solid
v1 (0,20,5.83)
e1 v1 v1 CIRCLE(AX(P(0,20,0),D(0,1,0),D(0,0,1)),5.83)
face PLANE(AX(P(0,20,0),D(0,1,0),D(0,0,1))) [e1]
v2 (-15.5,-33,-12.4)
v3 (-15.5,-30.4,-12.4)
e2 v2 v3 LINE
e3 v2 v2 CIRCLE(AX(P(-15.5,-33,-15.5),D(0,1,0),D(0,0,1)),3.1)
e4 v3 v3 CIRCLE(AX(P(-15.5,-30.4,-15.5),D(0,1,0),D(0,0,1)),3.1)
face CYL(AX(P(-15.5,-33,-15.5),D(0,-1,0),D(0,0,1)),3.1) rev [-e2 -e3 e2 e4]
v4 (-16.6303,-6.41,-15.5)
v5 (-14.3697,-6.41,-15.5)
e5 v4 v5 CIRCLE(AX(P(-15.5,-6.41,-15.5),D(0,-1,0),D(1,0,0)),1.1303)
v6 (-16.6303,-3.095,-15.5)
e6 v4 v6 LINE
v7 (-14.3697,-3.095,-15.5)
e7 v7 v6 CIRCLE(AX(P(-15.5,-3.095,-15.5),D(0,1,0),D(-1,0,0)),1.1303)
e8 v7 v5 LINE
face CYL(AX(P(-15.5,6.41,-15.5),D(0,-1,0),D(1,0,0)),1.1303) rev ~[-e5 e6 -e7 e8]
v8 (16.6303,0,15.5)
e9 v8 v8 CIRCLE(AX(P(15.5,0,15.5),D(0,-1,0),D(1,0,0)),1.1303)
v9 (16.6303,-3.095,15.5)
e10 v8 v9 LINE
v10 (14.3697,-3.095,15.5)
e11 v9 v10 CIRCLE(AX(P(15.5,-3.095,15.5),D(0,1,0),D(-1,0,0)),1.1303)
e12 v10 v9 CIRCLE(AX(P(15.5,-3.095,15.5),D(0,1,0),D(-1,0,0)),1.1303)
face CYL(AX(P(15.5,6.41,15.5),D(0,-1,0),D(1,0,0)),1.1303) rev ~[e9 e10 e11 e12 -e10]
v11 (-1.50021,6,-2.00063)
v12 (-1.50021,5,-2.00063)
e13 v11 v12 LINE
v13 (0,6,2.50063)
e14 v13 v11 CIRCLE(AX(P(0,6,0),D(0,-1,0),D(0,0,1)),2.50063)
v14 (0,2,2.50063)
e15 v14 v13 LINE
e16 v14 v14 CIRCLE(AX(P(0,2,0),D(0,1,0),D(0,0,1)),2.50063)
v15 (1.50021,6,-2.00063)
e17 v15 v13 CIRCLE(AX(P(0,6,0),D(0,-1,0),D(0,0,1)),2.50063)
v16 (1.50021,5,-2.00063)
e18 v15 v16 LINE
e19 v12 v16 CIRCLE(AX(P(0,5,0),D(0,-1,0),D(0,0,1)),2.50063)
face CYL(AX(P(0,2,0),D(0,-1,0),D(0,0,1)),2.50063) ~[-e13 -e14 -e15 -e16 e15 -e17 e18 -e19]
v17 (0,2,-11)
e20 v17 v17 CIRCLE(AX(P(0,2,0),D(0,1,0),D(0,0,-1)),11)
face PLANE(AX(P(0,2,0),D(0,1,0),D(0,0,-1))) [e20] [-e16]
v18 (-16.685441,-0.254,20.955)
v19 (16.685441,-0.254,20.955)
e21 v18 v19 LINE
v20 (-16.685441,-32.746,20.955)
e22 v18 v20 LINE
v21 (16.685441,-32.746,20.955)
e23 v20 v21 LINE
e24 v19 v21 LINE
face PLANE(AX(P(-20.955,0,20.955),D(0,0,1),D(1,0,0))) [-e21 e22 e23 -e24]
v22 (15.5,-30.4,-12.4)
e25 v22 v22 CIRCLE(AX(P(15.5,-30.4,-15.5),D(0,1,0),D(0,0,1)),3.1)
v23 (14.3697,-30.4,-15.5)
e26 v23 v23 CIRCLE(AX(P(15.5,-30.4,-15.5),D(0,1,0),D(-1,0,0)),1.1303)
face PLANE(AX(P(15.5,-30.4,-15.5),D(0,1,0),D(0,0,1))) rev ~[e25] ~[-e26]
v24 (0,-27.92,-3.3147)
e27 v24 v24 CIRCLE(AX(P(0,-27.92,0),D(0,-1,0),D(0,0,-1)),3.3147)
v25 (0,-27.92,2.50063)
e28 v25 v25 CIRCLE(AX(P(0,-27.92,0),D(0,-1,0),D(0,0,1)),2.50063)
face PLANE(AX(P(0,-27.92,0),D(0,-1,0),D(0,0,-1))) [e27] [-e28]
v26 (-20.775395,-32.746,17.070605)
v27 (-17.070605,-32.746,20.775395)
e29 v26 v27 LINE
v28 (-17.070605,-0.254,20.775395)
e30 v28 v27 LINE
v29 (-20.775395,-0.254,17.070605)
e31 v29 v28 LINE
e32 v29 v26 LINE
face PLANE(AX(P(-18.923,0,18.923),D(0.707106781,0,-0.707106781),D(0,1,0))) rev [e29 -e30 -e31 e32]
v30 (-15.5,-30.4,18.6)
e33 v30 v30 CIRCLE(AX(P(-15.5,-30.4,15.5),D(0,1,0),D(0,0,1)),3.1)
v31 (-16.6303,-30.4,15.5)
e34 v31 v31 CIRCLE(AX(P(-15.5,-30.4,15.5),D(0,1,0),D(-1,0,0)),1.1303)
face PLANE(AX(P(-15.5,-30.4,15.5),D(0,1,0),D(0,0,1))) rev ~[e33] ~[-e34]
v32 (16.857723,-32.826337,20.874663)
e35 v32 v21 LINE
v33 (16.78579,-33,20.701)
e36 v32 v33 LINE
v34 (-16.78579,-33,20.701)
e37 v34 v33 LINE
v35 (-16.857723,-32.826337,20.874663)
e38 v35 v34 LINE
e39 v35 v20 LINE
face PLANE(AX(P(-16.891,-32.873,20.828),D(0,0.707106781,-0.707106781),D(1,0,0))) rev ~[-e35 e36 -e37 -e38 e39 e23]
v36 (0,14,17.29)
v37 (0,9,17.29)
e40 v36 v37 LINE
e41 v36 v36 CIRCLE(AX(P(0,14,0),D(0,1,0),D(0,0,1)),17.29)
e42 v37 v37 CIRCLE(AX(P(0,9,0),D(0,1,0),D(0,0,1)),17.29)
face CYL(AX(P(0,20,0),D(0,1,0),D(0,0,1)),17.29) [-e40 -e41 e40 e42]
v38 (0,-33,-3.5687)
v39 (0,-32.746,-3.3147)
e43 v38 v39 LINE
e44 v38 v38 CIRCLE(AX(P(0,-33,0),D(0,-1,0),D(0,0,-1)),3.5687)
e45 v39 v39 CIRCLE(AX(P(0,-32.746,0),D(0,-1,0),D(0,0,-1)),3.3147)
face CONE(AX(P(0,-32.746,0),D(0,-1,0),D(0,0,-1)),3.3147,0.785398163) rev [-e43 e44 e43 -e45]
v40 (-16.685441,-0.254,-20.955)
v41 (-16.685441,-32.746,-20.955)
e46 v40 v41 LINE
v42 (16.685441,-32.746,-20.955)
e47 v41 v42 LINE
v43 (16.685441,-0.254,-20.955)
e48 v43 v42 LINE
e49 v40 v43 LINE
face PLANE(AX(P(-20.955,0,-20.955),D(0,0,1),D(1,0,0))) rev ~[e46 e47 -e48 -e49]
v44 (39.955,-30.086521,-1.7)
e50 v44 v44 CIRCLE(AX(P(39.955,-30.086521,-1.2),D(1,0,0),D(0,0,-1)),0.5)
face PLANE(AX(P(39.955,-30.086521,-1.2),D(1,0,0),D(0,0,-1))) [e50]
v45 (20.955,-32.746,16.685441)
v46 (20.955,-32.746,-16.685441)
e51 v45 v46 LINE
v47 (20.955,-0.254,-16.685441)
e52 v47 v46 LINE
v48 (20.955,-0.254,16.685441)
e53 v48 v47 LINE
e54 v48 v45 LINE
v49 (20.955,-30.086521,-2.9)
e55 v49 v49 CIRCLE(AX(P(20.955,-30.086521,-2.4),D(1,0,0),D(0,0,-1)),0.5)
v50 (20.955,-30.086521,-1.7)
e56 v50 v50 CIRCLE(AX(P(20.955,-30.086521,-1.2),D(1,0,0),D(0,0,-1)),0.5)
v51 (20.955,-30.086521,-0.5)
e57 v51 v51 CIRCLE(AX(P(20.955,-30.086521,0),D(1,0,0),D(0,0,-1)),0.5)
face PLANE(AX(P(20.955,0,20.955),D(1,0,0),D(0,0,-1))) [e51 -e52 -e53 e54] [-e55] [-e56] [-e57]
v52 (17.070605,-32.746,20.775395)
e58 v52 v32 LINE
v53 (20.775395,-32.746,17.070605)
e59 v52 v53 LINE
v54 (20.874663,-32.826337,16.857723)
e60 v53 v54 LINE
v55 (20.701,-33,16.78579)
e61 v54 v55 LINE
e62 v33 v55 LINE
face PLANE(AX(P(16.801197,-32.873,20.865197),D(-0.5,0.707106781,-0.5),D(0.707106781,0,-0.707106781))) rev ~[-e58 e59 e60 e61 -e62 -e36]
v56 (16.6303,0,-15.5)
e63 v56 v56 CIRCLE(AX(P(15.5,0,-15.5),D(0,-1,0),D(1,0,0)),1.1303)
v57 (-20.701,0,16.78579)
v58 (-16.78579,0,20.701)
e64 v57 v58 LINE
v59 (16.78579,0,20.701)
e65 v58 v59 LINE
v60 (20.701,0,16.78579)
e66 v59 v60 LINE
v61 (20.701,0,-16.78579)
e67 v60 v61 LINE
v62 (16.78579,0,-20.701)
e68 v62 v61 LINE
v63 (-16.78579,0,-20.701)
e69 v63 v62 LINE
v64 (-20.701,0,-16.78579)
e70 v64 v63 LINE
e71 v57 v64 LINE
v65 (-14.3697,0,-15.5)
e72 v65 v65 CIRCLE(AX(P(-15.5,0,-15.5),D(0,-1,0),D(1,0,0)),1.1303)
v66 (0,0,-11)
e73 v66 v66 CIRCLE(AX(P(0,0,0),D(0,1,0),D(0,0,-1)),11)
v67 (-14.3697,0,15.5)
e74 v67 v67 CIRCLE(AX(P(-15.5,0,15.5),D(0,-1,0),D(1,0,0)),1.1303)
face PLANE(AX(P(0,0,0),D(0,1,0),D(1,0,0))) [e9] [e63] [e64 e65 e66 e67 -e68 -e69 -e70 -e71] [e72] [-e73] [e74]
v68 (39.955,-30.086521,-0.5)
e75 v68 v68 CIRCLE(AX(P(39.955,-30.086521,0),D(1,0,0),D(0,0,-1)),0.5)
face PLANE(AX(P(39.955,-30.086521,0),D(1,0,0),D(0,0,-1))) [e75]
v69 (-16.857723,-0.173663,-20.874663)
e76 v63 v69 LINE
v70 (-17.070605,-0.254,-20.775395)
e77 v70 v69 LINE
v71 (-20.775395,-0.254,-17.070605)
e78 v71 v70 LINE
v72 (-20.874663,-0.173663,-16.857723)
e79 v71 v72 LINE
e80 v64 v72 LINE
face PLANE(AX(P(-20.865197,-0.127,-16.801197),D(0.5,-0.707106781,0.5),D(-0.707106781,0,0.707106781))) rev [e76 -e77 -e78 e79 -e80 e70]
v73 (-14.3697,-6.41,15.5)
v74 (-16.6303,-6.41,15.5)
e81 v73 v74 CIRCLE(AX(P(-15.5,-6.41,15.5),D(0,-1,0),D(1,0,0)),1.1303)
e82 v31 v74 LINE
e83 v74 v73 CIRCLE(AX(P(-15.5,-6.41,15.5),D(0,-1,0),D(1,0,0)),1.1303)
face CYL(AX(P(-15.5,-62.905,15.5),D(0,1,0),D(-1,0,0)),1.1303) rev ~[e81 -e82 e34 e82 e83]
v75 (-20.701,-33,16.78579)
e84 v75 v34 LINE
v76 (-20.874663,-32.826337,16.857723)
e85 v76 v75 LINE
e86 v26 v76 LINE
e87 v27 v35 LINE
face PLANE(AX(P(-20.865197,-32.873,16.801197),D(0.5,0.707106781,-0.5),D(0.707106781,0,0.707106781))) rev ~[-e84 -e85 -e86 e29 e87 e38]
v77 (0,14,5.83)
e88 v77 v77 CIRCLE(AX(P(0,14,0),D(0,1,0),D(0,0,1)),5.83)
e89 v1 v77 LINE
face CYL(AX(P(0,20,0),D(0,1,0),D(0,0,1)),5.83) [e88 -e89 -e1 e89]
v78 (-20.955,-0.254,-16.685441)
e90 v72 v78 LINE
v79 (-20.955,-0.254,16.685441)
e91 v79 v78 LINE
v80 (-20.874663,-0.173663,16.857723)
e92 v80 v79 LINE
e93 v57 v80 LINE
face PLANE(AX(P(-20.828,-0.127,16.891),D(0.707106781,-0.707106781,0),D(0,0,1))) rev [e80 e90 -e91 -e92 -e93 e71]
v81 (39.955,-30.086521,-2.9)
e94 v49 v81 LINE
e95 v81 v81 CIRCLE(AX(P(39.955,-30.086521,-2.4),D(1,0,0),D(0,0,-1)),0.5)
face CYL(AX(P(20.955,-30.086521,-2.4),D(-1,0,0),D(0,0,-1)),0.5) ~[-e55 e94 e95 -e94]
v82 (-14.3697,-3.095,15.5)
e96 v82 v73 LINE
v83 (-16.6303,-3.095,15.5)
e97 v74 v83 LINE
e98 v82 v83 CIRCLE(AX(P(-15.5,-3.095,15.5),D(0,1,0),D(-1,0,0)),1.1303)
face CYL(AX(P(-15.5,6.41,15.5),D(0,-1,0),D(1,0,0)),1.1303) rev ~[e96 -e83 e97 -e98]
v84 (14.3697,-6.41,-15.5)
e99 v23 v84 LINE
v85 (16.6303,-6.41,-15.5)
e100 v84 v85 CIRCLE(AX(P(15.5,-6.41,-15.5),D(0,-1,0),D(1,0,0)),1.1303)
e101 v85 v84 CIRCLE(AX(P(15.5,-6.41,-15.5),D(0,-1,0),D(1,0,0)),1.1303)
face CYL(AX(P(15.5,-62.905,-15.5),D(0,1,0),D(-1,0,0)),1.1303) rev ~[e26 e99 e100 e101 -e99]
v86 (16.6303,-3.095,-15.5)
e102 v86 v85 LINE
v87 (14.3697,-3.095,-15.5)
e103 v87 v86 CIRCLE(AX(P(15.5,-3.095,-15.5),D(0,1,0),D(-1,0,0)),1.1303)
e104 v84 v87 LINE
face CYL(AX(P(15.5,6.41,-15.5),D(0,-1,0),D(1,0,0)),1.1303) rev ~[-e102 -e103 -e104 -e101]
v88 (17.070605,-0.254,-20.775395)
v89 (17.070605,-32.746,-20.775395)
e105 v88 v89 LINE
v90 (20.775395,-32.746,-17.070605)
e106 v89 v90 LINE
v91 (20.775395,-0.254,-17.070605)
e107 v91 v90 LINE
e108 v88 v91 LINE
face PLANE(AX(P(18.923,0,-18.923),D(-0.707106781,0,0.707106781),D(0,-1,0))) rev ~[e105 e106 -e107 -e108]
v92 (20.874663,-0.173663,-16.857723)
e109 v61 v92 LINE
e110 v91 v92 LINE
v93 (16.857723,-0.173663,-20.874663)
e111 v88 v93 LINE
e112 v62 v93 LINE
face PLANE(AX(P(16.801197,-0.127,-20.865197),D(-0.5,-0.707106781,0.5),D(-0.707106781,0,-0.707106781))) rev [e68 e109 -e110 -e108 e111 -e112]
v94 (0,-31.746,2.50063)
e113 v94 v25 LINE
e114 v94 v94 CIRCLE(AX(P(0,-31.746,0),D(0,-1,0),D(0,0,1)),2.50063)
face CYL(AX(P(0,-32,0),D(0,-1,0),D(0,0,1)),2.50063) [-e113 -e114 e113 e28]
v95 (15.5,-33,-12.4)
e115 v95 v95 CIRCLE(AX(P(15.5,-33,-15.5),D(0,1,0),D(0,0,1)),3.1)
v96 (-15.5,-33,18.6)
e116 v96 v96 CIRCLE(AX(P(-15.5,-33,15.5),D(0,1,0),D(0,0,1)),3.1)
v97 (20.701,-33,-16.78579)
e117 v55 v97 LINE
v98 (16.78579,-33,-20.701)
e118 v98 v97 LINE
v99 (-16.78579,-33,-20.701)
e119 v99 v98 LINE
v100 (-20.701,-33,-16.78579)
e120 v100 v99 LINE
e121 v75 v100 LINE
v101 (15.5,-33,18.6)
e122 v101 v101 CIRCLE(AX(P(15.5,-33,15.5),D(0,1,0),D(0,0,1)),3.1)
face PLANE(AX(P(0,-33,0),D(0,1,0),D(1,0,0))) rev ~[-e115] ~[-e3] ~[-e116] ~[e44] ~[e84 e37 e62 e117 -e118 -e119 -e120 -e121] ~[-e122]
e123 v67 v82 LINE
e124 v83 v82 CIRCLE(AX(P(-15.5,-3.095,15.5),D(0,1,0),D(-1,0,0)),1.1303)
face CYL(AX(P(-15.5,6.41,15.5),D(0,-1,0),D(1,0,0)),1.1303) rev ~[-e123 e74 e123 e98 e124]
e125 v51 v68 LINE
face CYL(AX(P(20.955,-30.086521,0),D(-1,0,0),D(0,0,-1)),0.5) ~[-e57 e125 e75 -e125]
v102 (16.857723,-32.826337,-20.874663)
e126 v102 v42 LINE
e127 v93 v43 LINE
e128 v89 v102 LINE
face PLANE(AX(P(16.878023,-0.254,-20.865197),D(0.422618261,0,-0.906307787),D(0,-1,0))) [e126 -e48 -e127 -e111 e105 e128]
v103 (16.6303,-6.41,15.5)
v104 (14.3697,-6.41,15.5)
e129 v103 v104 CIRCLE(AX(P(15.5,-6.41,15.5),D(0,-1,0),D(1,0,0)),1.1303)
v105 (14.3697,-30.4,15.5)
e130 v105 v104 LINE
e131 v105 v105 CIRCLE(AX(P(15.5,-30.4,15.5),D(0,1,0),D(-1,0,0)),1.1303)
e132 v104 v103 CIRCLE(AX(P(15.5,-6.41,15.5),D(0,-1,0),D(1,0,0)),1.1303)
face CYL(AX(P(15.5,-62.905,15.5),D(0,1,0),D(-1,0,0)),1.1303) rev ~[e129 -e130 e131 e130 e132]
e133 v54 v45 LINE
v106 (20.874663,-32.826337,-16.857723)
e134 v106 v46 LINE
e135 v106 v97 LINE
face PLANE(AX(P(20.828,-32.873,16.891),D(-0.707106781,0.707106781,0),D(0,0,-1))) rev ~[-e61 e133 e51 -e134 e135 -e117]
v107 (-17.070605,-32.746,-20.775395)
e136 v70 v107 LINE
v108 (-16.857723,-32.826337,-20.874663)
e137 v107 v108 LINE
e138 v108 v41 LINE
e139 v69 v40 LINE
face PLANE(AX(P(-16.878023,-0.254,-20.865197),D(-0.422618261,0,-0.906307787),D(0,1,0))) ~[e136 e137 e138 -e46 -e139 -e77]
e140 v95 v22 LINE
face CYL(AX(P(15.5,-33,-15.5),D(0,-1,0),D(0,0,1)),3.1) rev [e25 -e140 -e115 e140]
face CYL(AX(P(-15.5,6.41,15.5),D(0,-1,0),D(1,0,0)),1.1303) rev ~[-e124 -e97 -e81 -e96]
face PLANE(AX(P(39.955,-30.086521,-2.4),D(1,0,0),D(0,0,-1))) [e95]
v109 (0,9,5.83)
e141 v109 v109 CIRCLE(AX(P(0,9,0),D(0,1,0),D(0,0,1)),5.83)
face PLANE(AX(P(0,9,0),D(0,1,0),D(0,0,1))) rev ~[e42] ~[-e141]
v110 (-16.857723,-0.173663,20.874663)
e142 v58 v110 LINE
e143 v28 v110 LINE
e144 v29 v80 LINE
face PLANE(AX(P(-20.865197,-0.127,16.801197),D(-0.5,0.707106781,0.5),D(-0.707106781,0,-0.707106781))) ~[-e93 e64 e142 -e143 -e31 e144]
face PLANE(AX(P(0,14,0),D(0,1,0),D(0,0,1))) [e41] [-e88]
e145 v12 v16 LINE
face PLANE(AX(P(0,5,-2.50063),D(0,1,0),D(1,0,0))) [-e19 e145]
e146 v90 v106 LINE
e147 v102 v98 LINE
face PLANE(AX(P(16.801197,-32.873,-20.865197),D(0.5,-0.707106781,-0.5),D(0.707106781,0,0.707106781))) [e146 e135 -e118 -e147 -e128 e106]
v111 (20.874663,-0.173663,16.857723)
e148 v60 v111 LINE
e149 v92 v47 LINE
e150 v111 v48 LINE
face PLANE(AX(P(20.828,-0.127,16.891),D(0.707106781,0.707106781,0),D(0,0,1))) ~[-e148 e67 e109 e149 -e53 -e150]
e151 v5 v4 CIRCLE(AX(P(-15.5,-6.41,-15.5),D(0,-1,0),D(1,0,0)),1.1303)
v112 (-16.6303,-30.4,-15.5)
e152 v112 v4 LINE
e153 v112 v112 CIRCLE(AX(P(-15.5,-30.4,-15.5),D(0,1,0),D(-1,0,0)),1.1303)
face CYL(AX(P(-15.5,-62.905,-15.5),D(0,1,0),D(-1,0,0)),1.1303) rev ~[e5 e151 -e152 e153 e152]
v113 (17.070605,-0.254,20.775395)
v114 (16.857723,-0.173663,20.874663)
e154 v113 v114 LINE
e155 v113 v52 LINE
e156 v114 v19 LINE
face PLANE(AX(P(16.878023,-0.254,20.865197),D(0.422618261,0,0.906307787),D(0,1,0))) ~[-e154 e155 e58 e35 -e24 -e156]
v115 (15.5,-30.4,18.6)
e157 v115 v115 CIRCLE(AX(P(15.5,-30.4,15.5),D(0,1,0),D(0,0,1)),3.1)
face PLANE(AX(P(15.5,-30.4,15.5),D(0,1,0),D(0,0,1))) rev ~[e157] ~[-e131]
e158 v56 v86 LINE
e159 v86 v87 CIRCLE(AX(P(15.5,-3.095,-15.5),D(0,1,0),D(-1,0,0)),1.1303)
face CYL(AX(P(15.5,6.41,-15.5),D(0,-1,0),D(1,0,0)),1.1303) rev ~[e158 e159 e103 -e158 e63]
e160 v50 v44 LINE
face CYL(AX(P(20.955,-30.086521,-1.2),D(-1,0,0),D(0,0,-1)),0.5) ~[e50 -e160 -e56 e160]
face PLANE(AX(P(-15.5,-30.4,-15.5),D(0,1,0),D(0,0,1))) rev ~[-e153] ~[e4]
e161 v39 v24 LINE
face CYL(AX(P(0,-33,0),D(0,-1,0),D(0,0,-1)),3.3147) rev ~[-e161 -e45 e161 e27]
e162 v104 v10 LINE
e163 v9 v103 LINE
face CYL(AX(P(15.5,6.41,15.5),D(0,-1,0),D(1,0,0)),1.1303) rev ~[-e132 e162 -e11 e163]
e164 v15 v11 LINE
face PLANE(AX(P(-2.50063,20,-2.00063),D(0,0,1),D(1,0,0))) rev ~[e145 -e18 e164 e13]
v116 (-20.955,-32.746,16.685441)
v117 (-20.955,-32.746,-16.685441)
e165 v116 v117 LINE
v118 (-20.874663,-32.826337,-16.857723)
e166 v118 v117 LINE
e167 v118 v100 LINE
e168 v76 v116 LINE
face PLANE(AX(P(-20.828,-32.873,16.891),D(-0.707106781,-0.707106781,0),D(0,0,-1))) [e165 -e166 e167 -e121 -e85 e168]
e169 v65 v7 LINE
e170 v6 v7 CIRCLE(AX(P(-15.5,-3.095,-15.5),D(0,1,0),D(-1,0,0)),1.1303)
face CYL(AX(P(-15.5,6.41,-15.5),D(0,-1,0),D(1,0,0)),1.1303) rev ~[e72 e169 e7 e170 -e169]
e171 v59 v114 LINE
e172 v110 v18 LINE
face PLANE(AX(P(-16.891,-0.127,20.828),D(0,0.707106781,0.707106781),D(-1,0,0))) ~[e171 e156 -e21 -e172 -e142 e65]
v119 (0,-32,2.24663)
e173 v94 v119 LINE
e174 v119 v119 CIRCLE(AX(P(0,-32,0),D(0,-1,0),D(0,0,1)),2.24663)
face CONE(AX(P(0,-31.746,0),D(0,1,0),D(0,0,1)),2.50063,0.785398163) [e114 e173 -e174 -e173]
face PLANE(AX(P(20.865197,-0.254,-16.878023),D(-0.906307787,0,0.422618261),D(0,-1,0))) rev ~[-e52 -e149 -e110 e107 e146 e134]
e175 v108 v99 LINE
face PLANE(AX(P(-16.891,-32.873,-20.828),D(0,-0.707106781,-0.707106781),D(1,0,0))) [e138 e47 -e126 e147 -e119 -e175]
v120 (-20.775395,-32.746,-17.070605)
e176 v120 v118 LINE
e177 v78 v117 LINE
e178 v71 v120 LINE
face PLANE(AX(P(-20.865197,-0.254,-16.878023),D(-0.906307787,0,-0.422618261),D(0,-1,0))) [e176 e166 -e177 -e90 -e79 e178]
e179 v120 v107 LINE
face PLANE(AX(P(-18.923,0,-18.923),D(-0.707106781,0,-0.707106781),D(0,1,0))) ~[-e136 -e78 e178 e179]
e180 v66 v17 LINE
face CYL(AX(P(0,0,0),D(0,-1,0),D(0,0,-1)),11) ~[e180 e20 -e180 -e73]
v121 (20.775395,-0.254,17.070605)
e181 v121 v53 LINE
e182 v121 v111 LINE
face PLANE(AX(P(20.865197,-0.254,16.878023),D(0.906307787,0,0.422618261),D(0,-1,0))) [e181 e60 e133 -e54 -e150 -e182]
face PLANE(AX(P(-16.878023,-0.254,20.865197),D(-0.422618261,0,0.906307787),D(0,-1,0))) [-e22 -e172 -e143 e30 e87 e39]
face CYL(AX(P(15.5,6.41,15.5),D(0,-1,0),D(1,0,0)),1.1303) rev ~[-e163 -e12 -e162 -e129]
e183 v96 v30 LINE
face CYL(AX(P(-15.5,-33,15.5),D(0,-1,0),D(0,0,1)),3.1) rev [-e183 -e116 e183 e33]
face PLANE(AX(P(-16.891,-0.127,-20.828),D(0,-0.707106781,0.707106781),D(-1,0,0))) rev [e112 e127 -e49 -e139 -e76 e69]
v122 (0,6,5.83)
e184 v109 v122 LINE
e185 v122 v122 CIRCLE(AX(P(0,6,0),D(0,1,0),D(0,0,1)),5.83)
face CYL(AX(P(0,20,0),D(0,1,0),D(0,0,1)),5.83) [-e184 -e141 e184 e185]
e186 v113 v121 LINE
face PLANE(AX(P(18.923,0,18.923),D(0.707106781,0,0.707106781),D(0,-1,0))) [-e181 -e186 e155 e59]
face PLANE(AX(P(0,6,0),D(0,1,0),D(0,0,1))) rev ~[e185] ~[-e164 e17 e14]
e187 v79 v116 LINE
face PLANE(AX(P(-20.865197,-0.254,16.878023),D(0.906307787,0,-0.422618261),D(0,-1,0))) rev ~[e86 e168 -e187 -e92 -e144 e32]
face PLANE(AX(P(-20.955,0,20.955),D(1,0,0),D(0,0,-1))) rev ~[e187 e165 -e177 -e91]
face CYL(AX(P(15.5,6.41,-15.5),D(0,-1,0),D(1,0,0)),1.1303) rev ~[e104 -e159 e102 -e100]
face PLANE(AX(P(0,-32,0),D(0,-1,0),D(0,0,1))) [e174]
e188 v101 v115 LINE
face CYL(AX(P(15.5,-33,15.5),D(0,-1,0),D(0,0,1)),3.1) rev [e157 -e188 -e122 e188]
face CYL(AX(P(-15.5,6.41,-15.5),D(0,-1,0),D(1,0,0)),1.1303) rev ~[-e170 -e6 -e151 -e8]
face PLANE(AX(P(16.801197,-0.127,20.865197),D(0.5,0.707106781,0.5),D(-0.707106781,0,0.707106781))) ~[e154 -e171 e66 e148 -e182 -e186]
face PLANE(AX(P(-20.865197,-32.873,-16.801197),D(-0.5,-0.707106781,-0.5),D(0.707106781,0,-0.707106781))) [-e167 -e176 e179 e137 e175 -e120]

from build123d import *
from OCP.BRepFilletAPI import BRepFilletAPI_MakeChamfer

# Parameters (mm, degrees)
SKETCH1_W                 = 41.91
SKETCH1_H                 = 41.91
EXTRUDE1_DEPTH            = 33
SKETCH9_R                 = 11
EXTRUDE5_DEPTH            = 2
SKETCH7_R                 = 2.50063
EXTRUDE3_DEPTH            = 18
F_4_40_TAPPED_HOLE1_D     = 2.2606
F_4_40_TAPPED_HOLE1_DEPTH = 6.41
F_4_40_TAPPED_HOLE1_TIP   = 0.679152758
F_4_40_TAPPED_HOLE2_D     = 2.2606
F_4_40_TAPPED_HOLE2_DEPTH = 29.905
F_4_40_TAPPED_HOLE2_TIP   = 0.679152758
SKETCH14_R                = 3.1
CUT_EXTRUDE1_DEPTH        = 2.6
CHAMFER1_SIZE             = 0.508
CHAMFER2_SIZE             = 4.064
SKETCH16_R                = 3.3147
CUT_EXTRUDE3_DEPTH        = 5.08
BOSS_EXTRUDE1_START       = 4.08
SKETCH17_R                = 2.50063
BOSS_EXTRUDE1_DEPTH       = 4.08
CHAMFER3_SIZE             = 0.254
CHAMFER4_SIZE             = 0.254
CHAMFER4_SIZE2            = 0.205559306
SKETCH18_W                = 5.00126
SKETCH18_H                = 1
CUT_EXTRUDE4_DEPTH        = 15
SKETCH24_R                = 0.5
BOSS_EXTRUDE2_DEPTH       = 19
SKETCH25_R                = 5.83
BOSS_EXTRUDE3_DEPTH       = 14
SKETCH26_R                = 17.29
BOSS_EXTRUDE4_DEPTH       = 11
SKETCH27_R                = 17.29
SKETCH27_R_2              = 5.83
CUT_EXTRUDE5_DEPTH        = 6


with BuildPart() as part:
    # Sketch1 → Extrude1 (new body)
    with BuildSketch(Plane(origin=(0, 0, 0), x_dir=(1, 0, 0), z_dir=(0, 1, 0))):
        Rectangle(SKETCH1_W, SKETCH1_H)
    extrude(amount=-EXTRUDE1_DEPTH)

    # Sketch9 → Extrude5 (add)
    with BuildSketch(Plane(origin=(0, 0, 0), x_dir=(1, 0, 0), z_dir=(0, 1, 0))):
        with Locations(Location((0, 0, 0), (0, 0, 90))):
            Circle(SKETCH9_R)
    extrude(amount=EXTRUDE5_DEPTH)

    # Sketch7 → Extrude3 (add)
    with BuildSketch(Plane(origin=(0, 2, 0), x_dir=(-1, 0, 0), z_dir=(0, 1, 0))):
        with Locations(Location((0, 0, 0), (0, 0, 90))):
            Circle(SKETCH7_R)
    extrude(amount=EXTRUDE3_DEPTH)

    # #4-40 Tapped Hole1
    with Locations(Plane(origin=(0, 0, 0), x_dir=(-1, 0, 0), z_dir=(0, 1, 0))):
        with Locations((15.5, -15.5), (15.5, 15.5), (-15.5, 15.5), (-15.5, -15.5)):
            Hole(F_4_40_TAPPED_HOLE1_D / 2, depth=F_4_40_TAPPED_HOLE1_DEPTH)
            with Locations((0, 0, -(F_4_40_TAPPED_HOLE1_DEPTH + F_4_40_TAPPED_HOLE1_TIP / 2))):  # 118° drill point
                Cone(0, F_4_40_TAPPED_HOLE1_D / 2, F_4_40_TAPPED_HOLE1_TIP, mode=Mode.SUBTRACT)

    # #4-40 Tapped Hole2
    with Locations(Plane.XZ.offset(33)):
        with Locations((15.5, -15.5), (-15.5, 15.5), (-15.5, -15.5), (15.5, 15.5)):
            Hole(F_4_40_TAPPED_HOLE2_D / 2, depth=F_4_40_TAPPED_HOLE2_DEPTH)
            with Locations((0, 0, -(F_4_40_TAPPED_HOLE2_DEPTH + F_4_40_TAPPED_HOLE2_TIP / 2))):  # 118° drill point
                Cone(0, F_4_40_TAPPED_HOLE2_D / 2, F_4_40_TAPPED_HOLE2_TIP, mode=Mode.SUBTRACT)

    # Sketch14 → Cut-Extrude1 (cut)
    with BuildSketch(Plane(origin=(0, -33, 0), x_dir=(1, 0, 0), z_dir=(0, 1, 0))):
        with Locations(Location((15.5, 15.5, 0), (0, 0, 270))):
            Circle(SKETCH14_R)
        with Locations(Location((-15.5, 15.5, 0), (0, 0, 270))):
            Circle(SKETCH14_R)
        with Locations(Location((-15.5, -15.5, 0), (0, 0, 270))):
            Circle(SKETCH14_R)
        with Locations(Location((15.5, -15.5, 0), (0, 0, 270))):
            Circle(SKETCH14_R)
    extrude(amount=CUT_EXTRUDE1_DEPTH, mode=Mode.SUBTRACT)

    # Chamfer1
    chamfer1_edges = [part.edges().sort_by_distance(p)[0] for p in [
        (0, 20, -2.50063),
    ]]
    chamfer(chamfer1_edges, length=CHAMFER1_SIZE)

    # Chamfer2
    chamfer2_edges = [part.edges().sort_by_distance(p)[0] for p in [
        (20.955, -16.5, 20.955),
        (-20.955, -16.5, 20.955),
        (-20.955, -16.5, -20.955),
        (20.955, -16.5, -20.955),
    ]]
    chamfer(chamfer2_edges, length=CHAMFER2_SIZE)

    # Sketch16 → Cut-Extrude3 (cut)
    with BuildSketch(Plane.XZ.offset(33)):
        with Locations(Location((0, 0, 0), (0, 0, 270))):
            Circle(SKETCH16_R)
    extrude(amount=-CUT_EXTRUDE3_DEPTH, mode=Mode.SUBTRACT)

    # Sketch17 → Boss-Extrude1 (add)
    with BuildSketch(Plane.XZ.offset(27.92).offset(BOSS_EXTRUDE1_START)):
        with Locations(Location((0, 0, 0), (0, 0, 90))):
            Circle(SKETCH17_R)
    extrude(amount=-BOSS_EXTRUDE1_DEPTH)

    # Chamfer3
    chamfer3_edges = [part.edges().sort_by_distance(p)[0] for p in [
        (-18.923, -33, 18.923),
        (0, -33, 3.3147),
        (0, -32, -2.50063),
        (-20.955, 0, 0),
        (-20.955, -33, 0),
        (20.955, 0, 0),
        (0, 0, -20.955),
        (0, 0, 20.955),
        (-18.923, 0, -18.923),
        (18.923, 0, -18.923),
        (18.923, 0, 18.923),
        (-18.923, 0, 18.923),
        (0, -33, 20.955),
        (20.955, -33, 0),
        (0, -33, -20.955),
        (-18.923, -33, -18.923),
        (18.923, -33, -18.923),
        (18.923, -33, 18.923),
    ]]
    chamfer(chamfer3_edges, length=CHAMFER3_SIZE)

    # Chamfer4: one chamfer whose edges measure the first distance from different faces: ONE call of the kernel's chamfer builder (chamfer() names one face for all edges)
    chamfer4_edges_1 = [part.edges().sort_by_distance(p)[0] for p in [
        (16.891, -16.5, -20.955),
        (20.955, -16.5, -16.891),
    ]]
    chamfer4_side_1 = [part.faces().sort_by_distance(p)[0] for p in [
        (18.923, -16.5, -18.923),
    ]]
    chamfer4_edges_2 = [part.edges().sort_by_distance(p)[0] for p in [
        (-16.891, -16.5, -20.955),
        (-20.955, -16.5, -16.891),
    ]]
    chamfer4_side_2 = [part.faces().sort_by_distance(p)[0] for p in [
        (-18.923, -16.5, -18.923),
    ]]
    chamfer4_edges_3 = [part.edges().sort_by_distance(p)[0] for p in [
        (20.955, -16.5, 16.891),
        (16.891, -16.5, 20.955),
    ]]
    chamfer4_side_3 = [part.faces().sort_by_distance(p)[0] for p in [
        (18.923, -16.5, 18.923),
    ]]
    chamfer4_edges_4 = [part.edges().sort_by_distance(p)[0] for p in [
        (-16.891, -16.5, 20.955),
        (-20.955, -16.5, 16.891),
    ]]
    chamfer4_side_4 = [part.faces().sort_by_distance(p)[0] for p in [
        (-18.923, -16.5, 18.923),
    ]]
    chamfer4 = BRepFilletAPI_MakeChamfer(part.part.solid().wrapped)
    for e in chamfer4_edges_1:
        chamfer4.Add(CHAMFER4_SIZE, CHAMFER4_SIZE2, e.wrapped, chamfer4_side_1[0].wrapped)  # the first distance lies on this face
    for e in chamfer4_edges_2:
        chamfer4.Add(CHAMFER4_SIZE, CHAMFER4_SIZE2, e.wrapped, chamfer4_side_2[0].wrapped)  # the first distance lies on this face
    for e in chamfer4_edges_3:
        chamfer4.Add(CHAMFER4_SIZE, CHAMFER4_SIZE2, e.wrapped, chamfer4_side_3[0].wrapped)  # the first distance lies on this face
    for e in chamfer4_edges_4:
        chamfer4.Add(CHAMFER4_SIZE, CHAMFER4_SIZE2, e.wrapped, chamfer4_side_4[0].wrapped)  # the first distance lies on this face
    add(Compound.cast(chamfer4.Shape()), mode=Mode.REPLACE)

    # Sketch18 → Cut-Extrude4 (cut)
    with BuildSketch(Plane(origin=(0, 20, 0), x_dir=(1, 0, 0), z_dir=(0, 1, 0))):
        with Locations((0, 2.50063)):
            Rectangle(SKETCH18_W, SKETCH18_H)
    extrude(amount=-CUT_EXTRUDE4_DEPTH, mode=Mode.SUBTRACT)

    # Sketch24 → Boss-Extrude2 (add)
    with BuildSketch(Plane(origin=(20.955, 0, 0), x_dir=(0, 0, -1), z_dir=(1, 0, 0))):
        with Locations((2.4, -30.086520784)):
            Circle(SKETCH24_R)
        with Locations((1.2, -30.086520784)):
            Circle(SKETCH24_R)
        with Locations((0, -30.086520784)):
            Circle(SKETCH24_R)
    extrude(amount=BOSS_EXTRUDE2_DEPTH)

    # Sketch25 → Boss-Extrude3 (add)
    with BuildSketch(Plane(origin=(0, 20, 0), x_dir=(1, 0, 0), z_dir=(0, 1, 0))):
        with Locations(Location((0, 0, 0), (0, 0, 270))):
            Circle(SKETCH25_R)
    extrude(amount=-BOSS_EXTRUDE3_DEPTH)

    # Sketch26 → Boss-Extrude4 (add)
    with BuildSketch(Plane(origin=(0, 20, 0), x_dir=(1, 0, 0), z_dir=(0, 1, 0))):
        with Locations(Location((0, 0, 0), (0, 0, 270))):
            Circle(SKETCH26_R)
    extrude(amount=-BOSS_EXTRUDE4_DEPTH)

    # Sketch27 → Cut-Extrude5 (cut)
    with BuildSketch(Plane(origin=(0, 20, 0), x_dir=(1, 0, 0), z_dir=(0, 1, 0))):
        with Locations(Location((0, 0, 0), (0, 0, 270))):
            Circle(SKETCH27_R)
        with Locations(Location((0, 0, 0), (0, 0, 270))):
            Circle(SKETCH27_R_2, mode=Mode.SUBTRACT)
    extrude(amount=-CUT_EXTRUDE5_DEPTH, mode=Mode.SUBTRACT)


solid = part.part
